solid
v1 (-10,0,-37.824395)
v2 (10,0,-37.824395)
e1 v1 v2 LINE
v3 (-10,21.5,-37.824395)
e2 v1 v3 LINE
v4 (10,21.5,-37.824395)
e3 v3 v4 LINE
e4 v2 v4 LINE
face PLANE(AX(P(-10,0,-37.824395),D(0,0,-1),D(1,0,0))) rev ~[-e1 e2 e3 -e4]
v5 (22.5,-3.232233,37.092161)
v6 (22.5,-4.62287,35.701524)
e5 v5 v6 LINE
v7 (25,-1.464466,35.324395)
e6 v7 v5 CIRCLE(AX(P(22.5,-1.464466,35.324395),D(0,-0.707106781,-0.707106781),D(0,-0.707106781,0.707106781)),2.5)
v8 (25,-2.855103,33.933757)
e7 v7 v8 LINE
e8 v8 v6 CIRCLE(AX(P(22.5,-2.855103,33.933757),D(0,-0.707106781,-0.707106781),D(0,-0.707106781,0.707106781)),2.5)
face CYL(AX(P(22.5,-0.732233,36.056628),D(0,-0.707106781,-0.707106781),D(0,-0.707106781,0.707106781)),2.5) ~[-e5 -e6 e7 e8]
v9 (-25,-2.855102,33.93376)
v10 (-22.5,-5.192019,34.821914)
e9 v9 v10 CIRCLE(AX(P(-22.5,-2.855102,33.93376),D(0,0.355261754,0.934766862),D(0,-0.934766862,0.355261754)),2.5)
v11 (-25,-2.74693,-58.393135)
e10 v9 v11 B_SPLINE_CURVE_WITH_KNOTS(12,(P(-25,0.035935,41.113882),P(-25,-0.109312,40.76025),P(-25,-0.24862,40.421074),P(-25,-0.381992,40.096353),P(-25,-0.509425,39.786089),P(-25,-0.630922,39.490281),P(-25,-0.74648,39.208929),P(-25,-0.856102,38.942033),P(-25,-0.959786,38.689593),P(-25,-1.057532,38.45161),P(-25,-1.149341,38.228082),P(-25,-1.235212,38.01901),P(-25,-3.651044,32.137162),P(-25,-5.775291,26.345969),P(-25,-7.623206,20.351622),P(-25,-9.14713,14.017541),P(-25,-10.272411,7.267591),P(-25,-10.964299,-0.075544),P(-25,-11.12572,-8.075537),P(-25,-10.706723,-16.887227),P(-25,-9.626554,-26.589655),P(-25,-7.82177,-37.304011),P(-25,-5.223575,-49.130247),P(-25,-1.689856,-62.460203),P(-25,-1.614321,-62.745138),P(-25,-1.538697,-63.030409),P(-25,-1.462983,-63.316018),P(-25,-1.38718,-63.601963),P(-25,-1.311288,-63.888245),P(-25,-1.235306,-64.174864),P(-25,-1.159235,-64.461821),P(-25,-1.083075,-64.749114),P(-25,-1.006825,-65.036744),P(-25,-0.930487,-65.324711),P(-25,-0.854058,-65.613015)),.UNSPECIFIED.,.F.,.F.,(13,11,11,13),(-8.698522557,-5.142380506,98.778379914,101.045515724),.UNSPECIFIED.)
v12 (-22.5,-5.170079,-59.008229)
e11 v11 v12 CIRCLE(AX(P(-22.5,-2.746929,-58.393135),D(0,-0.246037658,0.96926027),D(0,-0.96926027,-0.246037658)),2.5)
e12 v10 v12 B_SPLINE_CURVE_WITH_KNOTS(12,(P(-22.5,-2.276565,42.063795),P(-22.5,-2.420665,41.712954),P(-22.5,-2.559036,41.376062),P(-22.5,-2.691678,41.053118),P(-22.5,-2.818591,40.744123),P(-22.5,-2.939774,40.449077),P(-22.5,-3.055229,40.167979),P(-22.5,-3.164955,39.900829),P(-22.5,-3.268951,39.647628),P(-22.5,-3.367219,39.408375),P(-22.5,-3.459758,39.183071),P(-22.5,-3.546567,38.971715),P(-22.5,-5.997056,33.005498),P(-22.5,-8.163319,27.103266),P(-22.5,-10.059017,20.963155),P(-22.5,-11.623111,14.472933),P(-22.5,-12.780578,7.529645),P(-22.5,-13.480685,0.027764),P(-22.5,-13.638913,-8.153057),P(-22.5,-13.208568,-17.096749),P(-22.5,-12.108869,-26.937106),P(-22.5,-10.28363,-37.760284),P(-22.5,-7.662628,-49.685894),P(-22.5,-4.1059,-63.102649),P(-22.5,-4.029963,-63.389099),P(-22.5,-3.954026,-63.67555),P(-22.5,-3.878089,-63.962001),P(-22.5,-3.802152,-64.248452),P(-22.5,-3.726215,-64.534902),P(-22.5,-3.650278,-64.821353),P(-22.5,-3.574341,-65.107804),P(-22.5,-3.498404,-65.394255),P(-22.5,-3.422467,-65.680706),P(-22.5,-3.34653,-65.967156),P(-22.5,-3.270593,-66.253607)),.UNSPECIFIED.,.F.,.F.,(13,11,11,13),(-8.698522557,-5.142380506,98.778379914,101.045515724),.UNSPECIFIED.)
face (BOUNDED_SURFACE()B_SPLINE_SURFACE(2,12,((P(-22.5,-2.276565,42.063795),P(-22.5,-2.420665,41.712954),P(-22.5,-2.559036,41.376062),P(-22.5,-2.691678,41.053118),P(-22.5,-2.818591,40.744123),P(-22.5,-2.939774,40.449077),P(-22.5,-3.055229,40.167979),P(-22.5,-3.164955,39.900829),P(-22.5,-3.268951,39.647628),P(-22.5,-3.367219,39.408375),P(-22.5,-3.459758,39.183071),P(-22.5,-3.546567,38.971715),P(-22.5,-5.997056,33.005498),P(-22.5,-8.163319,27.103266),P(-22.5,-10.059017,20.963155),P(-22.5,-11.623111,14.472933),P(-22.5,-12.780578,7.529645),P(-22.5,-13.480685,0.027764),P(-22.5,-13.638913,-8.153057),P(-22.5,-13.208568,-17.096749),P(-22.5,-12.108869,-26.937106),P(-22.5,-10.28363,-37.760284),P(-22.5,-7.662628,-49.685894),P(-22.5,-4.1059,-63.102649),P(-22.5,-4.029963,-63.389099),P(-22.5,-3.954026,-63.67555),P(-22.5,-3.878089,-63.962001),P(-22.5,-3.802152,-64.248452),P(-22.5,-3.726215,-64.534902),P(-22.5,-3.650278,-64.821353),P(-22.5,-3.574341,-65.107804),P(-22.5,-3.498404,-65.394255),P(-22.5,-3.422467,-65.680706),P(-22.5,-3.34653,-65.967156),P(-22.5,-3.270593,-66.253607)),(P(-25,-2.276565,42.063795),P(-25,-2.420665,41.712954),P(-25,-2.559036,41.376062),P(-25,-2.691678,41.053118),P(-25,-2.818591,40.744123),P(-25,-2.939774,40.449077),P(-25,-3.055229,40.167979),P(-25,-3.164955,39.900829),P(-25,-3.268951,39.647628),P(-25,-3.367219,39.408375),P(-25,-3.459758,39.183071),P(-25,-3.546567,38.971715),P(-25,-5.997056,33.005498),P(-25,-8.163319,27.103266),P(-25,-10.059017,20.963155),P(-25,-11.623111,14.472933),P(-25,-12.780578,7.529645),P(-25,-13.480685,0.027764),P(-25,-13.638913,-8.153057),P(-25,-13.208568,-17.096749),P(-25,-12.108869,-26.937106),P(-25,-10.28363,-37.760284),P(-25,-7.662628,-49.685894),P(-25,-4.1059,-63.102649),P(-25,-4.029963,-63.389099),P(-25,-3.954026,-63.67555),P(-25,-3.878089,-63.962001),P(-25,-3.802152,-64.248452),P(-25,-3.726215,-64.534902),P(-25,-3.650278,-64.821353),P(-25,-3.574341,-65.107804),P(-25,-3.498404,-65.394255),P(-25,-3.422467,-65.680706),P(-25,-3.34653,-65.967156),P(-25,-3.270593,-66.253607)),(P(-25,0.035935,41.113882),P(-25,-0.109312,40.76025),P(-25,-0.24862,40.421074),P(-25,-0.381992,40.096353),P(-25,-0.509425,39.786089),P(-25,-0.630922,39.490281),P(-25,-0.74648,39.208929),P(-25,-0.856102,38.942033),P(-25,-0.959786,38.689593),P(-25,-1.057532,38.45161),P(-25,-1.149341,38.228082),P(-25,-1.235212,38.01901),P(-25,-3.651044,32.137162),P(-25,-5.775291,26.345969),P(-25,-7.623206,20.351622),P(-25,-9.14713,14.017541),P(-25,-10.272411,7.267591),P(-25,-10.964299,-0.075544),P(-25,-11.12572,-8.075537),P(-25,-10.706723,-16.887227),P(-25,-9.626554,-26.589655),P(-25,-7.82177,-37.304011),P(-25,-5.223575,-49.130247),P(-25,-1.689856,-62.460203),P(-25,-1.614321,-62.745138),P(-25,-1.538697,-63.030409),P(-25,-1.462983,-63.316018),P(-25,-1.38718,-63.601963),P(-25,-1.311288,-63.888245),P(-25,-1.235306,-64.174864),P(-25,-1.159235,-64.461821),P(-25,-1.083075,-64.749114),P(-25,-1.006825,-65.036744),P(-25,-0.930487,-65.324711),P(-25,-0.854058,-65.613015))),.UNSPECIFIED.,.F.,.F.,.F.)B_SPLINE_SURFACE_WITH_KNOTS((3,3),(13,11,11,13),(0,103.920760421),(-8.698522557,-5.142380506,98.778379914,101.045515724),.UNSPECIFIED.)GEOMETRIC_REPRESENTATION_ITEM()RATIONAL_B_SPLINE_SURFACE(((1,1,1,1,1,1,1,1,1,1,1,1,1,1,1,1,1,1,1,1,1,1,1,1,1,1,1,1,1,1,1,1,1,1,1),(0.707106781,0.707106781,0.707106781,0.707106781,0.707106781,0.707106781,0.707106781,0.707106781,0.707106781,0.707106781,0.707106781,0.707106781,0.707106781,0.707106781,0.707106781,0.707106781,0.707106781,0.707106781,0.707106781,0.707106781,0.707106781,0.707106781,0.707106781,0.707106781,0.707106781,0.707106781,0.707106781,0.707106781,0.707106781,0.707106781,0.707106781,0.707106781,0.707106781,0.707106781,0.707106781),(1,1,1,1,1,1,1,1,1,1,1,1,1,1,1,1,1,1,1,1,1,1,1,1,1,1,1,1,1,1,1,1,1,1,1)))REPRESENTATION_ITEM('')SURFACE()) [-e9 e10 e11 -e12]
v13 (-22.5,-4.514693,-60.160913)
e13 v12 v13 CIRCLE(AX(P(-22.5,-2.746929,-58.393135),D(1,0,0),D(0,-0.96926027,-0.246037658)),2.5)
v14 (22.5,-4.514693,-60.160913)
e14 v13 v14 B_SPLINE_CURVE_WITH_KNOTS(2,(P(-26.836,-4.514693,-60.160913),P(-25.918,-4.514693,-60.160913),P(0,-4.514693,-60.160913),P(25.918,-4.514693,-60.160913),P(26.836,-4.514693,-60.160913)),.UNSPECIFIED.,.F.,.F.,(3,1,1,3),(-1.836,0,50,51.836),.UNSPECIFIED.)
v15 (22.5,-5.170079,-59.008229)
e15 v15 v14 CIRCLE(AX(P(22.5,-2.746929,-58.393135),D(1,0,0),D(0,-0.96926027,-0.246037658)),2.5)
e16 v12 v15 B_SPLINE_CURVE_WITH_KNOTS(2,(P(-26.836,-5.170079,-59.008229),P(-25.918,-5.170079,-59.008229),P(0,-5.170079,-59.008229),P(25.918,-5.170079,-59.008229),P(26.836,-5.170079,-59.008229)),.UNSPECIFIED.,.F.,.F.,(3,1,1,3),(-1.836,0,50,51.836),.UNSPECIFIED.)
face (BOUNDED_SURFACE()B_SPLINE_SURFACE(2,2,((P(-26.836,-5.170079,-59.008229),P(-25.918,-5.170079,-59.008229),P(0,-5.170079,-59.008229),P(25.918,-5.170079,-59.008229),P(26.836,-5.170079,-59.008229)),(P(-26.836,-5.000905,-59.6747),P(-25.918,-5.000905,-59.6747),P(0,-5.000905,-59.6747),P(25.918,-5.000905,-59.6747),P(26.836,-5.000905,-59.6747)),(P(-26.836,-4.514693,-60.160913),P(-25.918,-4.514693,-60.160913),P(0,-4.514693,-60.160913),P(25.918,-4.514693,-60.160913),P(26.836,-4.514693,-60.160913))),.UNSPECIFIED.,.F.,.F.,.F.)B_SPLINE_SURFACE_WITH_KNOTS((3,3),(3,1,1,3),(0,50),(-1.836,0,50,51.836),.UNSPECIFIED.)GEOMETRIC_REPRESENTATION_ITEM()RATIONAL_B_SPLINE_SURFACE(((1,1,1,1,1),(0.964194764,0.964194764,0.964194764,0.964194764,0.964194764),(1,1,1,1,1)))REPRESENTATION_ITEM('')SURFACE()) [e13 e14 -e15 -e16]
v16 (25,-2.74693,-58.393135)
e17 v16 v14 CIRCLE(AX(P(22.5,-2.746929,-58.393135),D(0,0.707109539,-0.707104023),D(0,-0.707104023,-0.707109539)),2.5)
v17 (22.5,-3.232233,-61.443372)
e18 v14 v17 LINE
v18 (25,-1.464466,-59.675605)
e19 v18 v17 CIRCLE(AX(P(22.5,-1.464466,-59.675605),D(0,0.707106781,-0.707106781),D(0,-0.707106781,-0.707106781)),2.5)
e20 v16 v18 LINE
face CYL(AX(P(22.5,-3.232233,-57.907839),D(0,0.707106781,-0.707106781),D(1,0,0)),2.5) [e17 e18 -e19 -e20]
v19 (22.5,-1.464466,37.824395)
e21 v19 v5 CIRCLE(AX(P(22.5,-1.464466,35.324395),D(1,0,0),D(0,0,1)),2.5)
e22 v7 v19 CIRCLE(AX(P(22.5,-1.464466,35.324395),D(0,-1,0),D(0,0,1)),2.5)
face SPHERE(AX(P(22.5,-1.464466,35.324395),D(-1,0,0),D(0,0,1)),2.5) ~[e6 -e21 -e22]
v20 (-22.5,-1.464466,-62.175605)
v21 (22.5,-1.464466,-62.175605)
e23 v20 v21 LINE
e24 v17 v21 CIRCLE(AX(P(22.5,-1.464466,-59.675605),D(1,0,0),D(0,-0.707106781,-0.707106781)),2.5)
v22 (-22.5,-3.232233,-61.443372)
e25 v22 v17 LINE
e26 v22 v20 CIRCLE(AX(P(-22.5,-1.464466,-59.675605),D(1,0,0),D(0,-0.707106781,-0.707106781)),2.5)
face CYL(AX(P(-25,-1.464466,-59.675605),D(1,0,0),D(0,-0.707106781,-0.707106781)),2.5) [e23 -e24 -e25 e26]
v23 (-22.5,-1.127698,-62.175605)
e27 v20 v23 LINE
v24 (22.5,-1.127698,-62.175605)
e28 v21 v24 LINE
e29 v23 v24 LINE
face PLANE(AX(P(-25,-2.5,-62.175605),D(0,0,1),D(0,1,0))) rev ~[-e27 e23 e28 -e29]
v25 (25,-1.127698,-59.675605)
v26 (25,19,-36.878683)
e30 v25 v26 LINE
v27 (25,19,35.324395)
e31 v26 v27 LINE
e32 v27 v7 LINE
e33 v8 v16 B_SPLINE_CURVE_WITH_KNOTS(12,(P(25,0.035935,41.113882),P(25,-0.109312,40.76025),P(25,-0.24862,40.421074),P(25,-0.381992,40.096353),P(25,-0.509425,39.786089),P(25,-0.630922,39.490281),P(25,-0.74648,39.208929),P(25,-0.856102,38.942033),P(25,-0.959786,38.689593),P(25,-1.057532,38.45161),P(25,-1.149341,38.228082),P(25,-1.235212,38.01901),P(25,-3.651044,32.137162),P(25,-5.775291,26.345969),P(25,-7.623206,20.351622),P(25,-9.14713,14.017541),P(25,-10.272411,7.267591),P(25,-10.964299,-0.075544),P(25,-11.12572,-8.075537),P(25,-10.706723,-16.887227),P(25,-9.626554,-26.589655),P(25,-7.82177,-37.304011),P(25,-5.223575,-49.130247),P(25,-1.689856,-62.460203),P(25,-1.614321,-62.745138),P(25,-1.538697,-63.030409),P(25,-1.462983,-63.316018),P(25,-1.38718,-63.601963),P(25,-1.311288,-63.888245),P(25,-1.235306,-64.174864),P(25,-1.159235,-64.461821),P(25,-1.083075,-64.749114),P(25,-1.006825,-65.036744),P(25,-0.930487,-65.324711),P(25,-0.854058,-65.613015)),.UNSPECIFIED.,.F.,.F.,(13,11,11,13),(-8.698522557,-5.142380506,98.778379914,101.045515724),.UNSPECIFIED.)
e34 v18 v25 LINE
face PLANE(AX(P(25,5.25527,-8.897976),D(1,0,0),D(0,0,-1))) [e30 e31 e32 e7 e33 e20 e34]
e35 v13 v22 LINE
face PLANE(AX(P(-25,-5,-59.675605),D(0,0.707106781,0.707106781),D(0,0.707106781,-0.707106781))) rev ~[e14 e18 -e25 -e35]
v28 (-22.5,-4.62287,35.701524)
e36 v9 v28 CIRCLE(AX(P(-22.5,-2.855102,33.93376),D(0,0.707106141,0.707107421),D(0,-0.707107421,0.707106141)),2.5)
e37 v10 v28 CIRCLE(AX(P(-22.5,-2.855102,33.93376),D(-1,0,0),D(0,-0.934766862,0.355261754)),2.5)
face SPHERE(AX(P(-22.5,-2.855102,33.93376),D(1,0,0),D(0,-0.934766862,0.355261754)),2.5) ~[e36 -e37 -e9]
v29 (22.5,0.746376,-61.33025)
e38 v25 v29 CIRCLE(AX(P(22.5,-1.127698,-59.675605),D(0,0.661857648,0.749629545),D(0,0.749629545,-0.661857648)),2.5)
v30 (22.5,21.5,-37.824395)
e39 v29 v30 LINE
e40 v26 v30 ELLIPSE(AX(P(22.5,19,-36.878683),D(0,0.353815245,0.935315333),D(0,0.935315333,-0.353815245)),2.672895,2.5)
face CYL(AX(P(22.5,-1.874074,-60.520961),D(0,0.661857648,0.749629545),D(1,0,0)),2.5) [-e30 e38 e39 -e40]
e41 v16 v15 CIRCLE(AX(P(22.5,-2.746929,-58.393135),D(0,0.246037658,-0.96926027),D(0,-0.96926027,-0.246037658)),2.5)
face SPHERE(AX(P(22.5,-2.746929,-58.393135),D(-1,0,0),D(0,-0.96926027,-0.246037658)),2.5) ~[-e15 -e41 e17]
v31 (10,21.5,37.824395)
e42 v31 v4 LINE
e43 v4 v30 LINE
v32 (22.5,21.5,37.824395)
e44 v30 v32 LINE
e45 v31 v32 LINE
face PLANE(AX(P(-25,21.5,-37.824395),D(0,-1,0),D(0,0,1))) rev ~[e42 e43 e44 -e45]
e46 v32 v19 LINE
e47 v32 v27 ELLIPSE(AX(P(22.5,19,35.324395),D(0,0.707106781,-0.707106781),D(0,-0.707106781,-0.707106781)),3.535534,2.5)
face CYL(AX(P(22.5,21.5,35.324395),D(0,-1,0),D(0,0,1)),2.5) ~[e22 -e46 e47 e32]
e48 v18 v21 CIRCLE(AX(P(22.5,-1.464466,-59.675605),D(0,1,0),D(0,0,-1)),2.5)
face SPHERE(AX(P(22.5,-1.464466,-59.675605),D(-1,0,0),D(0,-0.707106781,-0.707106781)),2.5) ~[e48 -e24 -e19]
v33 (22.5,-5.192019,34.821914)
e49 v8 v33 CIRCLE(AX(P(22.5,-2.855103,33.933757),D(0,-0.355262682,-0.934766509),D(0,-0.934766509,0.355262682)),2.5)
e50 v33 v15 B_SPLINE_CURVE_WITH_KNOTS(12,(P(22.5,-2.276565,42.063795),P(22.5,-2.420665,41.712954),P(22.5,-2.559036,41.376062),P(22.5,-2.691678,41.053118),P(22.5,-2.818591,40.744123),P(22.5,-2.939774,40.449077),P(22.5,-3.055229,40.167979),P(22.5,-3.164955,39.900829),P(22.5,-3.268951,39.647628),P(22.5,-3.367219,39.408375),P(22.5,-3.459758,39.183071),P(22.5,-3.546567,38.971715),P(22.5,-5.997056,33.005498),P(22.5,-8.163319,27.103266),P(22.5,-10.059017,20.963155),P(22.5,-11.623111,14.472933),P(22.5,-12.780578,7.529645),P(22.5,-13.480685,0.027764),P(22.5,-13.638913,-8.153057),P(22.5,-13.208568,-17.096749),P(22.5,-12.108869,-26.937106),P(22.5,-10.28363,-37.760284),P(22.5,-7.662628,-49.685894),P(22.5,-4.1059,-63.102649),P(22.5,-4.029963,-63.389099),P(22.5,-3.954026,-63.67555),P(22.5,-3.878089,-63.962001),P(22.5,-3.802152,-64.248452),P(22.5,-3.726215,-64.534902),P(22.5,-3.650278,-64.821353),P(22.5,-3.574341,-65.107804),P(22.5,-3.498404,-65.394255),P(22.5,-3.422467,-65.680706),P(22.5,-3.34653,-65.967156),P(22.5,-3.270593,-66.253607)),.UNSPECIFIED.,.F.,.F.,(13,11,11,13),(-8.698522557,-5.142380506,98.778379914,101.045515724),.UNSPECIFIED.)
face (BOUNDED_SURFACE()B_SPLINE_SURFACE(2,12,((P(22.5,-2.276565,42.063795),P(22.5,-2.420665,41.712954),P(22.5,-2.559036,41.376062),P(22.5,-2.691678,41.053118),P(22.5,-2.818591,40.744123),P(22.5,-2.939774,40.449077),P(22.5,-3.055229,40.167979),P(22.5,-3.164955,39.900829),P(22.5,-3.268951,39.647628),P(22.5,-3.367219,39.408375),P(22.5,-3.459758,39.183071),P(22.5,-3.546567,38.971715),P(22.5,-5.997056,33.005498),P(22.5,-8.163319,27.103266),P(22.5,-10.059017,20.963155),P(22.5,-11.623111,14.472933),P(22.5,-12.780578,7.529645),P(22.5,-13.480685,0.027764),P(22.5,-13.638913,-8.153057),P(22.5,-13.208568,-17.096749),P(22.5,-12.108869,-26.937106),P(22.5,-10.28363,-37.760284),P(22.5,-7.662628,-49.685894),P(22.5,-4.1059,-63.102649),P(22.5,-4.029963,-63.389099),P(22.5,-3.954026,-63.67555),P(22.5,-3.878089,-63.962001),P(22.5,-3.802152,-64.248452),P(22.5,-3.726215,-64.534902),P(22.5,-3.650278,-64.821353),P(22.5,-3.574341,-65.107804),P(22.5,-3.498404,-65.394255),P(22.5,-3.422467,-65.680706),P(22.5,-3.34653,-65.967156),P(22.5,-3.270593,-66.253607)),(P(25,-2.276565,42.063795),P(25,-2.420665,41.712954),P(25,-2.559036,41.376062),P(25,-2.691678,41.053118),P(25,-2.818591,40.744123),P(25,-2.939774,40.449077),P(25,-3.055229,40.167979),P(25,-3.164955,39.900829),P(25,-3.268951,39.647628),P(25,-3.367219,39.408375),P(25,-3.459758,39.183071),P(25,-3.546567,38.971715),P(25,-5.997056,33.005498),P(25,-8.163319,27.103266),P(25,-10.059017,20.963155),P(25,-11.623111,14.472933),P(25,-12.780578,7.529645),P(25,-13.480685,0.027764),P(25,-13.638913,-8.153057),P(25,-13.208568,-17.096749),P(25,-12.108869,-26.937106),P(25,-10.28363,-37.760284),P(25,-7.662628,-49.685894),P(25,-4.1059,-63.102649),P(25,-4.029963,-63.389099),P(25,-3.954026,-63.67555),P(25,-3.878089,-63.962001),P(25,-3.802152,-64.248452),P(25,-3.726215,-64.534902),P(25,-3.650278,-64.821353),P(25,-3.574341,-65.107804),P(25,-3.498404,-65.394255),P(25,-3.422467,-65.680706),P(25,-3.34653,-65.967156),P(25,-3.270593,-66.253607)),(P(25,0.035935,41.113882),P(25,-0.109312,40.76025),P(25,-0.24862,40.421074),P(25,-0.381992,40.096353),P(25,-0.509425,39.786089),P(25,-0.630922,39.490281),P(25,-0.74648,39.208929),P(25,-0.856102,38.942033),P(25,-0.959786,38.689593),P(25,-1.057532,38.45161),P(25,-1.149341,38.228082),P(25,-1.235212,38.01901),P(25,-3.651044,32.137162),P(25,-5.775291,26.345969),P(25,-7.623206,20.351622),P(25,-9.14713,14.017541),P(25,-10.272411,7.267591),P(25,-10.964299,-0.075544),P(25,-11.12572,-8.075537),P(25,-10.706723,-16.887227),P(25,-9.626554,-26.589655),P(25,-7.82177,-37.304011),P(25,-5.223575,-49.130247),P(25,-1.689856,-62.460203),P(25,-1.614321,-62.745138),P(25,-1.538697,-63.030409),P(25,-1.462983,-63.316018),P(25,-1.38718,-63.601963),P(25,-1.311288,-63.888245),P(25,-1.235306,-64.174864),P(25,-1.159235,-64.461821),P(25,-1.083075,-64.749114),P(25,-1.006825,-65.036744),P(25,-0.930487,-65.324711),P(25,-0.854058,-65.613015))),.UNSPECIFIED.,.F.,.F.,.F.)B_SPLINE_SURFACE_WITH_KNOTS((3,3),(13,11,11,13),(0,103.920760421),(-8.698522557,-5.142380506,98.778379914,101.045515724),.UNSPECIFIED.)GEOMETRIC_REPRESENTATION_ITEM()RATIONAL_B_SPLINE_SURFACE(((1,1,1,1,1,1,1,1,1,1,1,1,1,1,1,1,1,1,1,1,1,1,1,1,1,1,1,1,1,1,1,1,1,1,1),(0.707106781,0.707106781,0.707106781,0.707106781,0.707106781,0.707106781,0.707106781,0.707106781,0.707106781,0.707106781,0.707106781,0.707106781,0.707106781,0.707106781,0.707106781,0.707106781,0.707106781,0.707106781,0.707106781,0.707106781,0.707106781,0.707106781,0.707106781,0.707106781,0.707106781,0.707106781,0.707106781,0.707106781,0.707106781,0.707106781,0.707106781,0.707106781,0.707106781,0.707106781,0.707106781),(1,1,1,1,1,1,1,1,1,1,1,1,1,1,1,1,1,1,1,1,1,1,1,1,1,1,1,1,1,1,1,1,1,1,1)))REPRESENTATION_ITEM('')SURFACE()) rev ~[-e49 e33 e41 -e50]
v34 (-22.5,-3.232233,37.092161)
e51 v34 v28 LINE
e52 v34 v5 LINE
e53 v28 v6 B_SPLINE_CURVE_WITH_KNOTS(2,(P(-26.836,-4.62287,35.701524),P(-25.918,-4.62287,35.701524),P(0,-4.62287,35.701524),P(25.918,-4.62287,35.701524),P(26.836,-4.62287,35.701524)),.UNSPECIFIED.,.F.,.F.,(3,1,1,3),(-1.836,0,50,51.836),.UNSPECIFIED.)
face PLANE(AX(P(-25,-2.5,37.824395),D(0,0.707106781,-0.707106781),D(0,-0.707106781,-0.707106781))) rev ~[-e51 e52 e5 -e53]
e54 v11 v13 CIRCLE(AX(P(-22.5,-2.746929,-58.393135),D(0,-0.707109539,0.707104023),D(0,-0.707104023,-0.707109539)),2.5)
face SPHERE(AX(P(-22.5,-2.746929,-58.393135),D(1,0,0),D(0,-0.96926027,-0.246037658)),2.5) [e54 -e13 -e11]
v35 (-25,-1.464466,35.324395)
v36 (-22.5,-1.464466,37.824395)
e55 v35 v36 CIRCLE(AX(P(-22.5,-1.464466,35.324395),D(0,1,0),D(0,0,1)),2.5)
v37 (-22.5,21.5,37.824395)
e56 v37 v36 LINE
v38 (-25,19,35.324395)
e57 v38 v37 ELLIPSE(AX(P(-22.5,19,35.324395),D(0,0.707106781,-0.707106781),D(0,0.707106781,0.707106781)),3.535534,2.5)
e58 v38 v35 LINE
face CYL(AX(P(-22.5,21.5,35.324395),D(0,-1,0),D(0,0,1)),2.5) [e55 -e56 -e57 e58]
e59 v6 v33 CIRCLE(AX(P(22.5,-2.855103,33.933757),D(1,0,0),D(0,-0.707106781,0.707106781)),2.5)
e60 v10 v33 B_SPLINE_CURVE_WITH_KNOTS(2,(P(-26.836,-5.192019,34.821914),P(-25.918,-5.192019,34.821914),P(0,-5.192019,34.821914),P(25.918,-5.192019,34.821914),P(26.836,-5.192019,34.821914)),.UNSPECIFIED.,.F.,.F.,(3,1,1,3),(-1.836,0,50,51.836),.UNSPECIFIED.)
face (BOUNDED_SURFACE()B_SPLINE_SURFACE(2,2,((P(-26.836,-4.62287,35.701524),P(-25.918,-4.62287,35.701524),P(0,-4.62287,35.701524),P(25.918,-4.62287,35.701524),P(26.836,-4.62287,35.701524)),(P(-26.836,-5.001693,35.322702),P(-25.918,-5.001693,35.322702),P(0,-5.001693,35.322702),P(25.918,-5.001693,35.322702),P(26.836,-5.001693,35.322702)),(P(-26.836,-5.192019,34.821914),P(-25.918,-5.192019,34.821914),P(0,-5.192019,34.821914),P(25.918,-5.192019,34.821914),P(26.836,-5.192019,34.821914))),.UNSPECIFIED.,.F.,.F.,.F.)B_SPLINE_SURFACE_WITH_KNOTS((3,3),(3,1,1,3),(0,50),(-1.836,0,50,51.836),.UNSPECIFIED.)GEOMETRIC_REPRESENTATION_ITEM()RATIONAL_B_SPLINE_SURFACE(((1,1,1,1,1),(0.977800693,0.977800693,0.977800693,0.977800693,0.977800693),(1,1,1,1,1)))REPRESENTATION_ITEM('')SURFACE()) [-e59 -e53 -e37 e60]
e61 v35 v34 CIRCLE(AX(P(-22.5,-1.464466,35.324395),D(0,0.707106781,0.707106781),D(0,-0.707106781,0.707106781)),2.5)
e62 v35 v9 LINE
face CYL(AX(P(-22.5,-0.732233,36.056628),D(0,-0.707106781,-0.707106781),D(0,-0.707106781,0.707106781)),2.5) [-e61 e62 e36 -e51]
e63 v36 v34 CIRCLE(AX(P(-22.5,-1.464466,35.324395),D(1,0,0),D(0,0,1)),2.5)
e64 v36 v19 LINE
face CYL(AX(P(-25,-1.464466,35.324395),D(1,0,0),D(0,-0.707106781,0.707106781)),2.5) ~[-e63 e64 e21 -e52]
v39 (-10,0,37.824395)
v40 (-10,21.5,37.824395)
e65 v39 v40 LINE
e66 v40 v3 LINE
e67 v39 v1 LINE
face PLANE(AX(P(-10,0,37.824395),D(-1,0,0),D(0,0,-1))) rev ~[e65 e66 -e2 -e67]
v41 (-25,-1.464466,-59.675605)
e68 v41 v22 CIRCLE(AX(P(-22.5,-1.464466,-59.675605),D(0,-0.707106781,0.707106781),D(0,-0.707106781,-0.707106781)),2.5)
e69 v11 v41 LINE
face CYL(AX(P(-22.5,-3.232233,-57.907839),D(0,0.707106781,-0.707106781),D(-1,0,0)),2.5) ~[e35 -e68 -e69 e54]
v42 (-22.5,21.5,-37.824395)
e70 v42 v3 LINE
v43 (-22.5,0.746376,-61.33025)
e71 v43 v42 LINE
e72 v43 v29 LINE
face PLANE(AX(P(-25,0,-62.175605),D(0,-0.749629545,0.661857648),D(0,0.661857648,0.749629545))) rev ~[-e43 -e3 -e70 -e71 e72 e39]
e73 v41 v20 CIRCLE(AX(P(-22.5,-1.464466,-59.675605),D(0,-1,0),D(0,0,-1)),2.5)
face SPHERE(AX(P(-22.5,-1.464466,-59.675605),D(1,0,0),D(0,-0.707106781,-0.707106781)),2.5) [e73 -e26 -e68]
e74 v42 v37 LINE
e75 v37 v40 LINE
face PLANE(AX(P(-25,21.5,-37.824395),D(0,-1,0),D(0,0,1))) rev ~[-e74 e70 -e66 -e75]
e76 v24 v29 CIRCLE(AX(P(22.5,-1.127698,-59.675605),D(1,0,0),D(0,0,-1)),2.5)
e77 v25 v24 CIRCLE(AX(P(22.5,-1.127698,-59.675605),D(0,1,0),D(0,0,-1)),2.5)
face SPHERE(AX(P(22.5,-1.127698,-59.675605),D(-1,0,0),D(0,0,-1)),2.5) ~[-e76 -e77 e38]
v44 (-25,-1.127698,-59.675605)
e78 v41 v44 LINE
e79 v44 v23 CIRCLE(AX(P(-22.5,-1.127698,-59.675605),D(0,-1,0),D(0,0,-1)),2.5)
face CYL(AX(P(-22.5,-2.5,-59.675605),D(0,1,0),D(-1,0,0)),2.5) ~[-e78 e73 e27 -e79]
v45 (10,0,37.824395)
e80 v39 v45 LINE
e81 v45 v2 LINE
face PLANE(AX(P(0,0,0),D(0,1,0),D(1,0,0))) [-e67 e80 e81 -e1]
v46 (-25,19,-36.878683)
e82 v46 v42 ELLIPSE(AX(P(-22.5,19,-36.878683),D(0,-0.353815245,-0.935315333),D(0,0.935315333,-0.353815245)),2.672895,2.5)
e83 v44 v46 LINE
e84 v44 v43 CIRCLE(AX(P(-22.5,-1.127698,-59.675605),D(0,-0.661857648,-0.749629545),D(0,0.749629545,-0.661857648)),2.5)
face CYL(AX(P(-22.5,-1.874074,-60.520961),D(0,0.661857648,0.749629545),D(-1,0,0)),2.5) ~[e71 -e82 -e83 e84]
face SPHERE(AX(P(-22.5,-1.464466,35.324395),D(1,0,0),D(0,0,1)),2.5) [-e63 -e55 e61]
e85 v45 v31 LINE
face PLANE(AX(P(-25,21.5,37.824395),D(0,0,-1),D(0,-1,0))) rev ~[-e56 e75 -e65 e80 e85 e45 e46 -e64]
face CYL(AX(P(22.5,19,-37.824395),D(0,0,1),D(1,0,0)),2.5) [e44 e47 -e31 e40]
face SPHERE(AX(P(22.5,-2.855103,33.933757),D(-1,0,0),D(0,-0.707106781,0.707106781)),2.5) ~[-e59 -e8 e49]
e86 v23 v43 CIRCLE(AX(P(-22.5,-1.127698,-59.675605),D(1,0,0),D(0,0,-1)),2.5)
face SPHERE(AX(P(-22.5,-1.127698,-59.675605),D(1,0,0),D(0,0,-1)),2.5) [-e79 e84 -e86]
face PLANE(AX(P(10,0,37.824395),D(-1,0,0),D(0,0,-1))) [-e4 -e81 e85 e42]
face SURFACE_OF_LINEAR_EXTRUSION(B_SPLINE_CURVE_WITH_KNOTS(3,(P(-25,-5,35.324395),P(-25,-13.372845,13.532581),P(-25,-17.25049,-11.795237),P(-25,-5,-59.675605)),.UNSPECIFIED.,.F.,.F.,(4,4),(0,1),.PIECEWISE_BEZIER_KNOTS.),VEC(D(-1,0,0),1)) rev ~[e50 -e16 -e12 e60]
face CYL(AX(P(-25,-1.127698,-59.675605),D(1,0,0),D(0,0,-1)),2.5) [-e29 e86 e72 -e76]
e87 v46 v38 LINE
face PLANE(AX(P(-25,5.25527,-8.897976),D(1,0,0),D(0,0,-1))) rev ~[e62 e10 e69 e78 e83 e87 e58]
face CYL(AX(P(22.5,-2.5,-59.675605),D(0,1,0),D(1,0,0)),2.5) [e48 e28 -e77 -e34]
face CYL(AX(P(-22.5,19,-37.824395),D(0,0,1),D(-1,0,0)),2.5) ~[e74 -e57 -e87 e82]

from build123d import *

# Parameters (mm, degrees)
BOSS_EXTRUDE4_DEPTH      = 25
BOSS_EXTRUDE4_DEPTH_BACK = 25
SKETCH4_W                = 20
SKETCH4_H                = 75.64878903
CUT_EXTRUDE1_DEPTH       = 71.37795066
FILLET1_R                = 2.5


with BuildPart() as part:
    # Sketch5 → Boss-Extrude4 (new, two sides: drawn at the far end of the back side and taken through both)
    with BuildSketch(Plane(origin=(0, 0, 0), x_dir=(0, 0, -1), z_dir=(1, 0, 0)).offset(-BOSS_EXTRUDE4_DEPTH_BACK)):
        with BuildLine():
            Line((-37.824394515, 0), (-37.824394515, -2.5))
            Line((-37.824394515, -2.5), (-35.324394515, -5))
            add(Edge.make_bspline(
                [(-35.324394515, -5), (-13.532580845, -13.372844958), (11.79523655, -17.250489512), (59.675605485, -5)],
                knots=[0, 0, 0, 0, 1, 1, 1, 1], degree=3))
            Line((59.675605485, -5), (62.175605485, -2.5))
            Line((62.175605485, -2.5), (62.175605485, 0))
            Line((62.175605485, 0), (37.824394515, 21.5))
            Line((37.824394515, 21.5), (-37.824394515, 21.5))
            Line((-37.824394515, 21.5), (-37.824394515, 0))
        make_face()
    extrude(amount=BOSS_EXTRUDE4_DEPTH + BOSS_EXTRUDE4_DEPTH_BACK)

    # Sketch4 → Cut-Extrude1 (cut, through all)
    with BuildSketch(Plane(origin=(0, 0, 0), x_dir=(1, 0, 0), z_dir=(0, 1, 0))):
        Rectangle(SKETCH4_W, SKETCH4_H)
    extrude(amount=CUT_EXTRUDE1_DEPTH, mode=Mode.SUBTRACT)

    # Fillet1
    fillet1_edges = [part.edges().sort_by_distance(p)[0] for p in [
        (-25, -3.75, 36.574394515),
        (0, 0, -62.175605485),
        (0, -2.5, -62.175605485),
        (12.5, -5, -59.675605485),
        (12.5, -5, 35.324394515),
        (0, -2.5, 37.824394515),
        (-25, -12.695636992, -12.039484877),
        (-25, -3.75, -60.925605485),
        (25, 9.5, 37.824394515),
        (25, -3.75, 36.574394515),
        (25, -12.695636992, -12.039484877),
        (-25, -1.25, -62.175605485),
        (25, -3.75, -60.925605485),
        (25, -1.25, -62.175605485),
        (25, 10.75, -50),
        (25, 21.5, 0),
        (-25, 10.75, -50),
        (-25, 21.5, 0),
        (-25, 9.5, 37.824394515),
    ]]
    fillet(fillet1_edges, radius=FILLET1_R)


solid = part.part
